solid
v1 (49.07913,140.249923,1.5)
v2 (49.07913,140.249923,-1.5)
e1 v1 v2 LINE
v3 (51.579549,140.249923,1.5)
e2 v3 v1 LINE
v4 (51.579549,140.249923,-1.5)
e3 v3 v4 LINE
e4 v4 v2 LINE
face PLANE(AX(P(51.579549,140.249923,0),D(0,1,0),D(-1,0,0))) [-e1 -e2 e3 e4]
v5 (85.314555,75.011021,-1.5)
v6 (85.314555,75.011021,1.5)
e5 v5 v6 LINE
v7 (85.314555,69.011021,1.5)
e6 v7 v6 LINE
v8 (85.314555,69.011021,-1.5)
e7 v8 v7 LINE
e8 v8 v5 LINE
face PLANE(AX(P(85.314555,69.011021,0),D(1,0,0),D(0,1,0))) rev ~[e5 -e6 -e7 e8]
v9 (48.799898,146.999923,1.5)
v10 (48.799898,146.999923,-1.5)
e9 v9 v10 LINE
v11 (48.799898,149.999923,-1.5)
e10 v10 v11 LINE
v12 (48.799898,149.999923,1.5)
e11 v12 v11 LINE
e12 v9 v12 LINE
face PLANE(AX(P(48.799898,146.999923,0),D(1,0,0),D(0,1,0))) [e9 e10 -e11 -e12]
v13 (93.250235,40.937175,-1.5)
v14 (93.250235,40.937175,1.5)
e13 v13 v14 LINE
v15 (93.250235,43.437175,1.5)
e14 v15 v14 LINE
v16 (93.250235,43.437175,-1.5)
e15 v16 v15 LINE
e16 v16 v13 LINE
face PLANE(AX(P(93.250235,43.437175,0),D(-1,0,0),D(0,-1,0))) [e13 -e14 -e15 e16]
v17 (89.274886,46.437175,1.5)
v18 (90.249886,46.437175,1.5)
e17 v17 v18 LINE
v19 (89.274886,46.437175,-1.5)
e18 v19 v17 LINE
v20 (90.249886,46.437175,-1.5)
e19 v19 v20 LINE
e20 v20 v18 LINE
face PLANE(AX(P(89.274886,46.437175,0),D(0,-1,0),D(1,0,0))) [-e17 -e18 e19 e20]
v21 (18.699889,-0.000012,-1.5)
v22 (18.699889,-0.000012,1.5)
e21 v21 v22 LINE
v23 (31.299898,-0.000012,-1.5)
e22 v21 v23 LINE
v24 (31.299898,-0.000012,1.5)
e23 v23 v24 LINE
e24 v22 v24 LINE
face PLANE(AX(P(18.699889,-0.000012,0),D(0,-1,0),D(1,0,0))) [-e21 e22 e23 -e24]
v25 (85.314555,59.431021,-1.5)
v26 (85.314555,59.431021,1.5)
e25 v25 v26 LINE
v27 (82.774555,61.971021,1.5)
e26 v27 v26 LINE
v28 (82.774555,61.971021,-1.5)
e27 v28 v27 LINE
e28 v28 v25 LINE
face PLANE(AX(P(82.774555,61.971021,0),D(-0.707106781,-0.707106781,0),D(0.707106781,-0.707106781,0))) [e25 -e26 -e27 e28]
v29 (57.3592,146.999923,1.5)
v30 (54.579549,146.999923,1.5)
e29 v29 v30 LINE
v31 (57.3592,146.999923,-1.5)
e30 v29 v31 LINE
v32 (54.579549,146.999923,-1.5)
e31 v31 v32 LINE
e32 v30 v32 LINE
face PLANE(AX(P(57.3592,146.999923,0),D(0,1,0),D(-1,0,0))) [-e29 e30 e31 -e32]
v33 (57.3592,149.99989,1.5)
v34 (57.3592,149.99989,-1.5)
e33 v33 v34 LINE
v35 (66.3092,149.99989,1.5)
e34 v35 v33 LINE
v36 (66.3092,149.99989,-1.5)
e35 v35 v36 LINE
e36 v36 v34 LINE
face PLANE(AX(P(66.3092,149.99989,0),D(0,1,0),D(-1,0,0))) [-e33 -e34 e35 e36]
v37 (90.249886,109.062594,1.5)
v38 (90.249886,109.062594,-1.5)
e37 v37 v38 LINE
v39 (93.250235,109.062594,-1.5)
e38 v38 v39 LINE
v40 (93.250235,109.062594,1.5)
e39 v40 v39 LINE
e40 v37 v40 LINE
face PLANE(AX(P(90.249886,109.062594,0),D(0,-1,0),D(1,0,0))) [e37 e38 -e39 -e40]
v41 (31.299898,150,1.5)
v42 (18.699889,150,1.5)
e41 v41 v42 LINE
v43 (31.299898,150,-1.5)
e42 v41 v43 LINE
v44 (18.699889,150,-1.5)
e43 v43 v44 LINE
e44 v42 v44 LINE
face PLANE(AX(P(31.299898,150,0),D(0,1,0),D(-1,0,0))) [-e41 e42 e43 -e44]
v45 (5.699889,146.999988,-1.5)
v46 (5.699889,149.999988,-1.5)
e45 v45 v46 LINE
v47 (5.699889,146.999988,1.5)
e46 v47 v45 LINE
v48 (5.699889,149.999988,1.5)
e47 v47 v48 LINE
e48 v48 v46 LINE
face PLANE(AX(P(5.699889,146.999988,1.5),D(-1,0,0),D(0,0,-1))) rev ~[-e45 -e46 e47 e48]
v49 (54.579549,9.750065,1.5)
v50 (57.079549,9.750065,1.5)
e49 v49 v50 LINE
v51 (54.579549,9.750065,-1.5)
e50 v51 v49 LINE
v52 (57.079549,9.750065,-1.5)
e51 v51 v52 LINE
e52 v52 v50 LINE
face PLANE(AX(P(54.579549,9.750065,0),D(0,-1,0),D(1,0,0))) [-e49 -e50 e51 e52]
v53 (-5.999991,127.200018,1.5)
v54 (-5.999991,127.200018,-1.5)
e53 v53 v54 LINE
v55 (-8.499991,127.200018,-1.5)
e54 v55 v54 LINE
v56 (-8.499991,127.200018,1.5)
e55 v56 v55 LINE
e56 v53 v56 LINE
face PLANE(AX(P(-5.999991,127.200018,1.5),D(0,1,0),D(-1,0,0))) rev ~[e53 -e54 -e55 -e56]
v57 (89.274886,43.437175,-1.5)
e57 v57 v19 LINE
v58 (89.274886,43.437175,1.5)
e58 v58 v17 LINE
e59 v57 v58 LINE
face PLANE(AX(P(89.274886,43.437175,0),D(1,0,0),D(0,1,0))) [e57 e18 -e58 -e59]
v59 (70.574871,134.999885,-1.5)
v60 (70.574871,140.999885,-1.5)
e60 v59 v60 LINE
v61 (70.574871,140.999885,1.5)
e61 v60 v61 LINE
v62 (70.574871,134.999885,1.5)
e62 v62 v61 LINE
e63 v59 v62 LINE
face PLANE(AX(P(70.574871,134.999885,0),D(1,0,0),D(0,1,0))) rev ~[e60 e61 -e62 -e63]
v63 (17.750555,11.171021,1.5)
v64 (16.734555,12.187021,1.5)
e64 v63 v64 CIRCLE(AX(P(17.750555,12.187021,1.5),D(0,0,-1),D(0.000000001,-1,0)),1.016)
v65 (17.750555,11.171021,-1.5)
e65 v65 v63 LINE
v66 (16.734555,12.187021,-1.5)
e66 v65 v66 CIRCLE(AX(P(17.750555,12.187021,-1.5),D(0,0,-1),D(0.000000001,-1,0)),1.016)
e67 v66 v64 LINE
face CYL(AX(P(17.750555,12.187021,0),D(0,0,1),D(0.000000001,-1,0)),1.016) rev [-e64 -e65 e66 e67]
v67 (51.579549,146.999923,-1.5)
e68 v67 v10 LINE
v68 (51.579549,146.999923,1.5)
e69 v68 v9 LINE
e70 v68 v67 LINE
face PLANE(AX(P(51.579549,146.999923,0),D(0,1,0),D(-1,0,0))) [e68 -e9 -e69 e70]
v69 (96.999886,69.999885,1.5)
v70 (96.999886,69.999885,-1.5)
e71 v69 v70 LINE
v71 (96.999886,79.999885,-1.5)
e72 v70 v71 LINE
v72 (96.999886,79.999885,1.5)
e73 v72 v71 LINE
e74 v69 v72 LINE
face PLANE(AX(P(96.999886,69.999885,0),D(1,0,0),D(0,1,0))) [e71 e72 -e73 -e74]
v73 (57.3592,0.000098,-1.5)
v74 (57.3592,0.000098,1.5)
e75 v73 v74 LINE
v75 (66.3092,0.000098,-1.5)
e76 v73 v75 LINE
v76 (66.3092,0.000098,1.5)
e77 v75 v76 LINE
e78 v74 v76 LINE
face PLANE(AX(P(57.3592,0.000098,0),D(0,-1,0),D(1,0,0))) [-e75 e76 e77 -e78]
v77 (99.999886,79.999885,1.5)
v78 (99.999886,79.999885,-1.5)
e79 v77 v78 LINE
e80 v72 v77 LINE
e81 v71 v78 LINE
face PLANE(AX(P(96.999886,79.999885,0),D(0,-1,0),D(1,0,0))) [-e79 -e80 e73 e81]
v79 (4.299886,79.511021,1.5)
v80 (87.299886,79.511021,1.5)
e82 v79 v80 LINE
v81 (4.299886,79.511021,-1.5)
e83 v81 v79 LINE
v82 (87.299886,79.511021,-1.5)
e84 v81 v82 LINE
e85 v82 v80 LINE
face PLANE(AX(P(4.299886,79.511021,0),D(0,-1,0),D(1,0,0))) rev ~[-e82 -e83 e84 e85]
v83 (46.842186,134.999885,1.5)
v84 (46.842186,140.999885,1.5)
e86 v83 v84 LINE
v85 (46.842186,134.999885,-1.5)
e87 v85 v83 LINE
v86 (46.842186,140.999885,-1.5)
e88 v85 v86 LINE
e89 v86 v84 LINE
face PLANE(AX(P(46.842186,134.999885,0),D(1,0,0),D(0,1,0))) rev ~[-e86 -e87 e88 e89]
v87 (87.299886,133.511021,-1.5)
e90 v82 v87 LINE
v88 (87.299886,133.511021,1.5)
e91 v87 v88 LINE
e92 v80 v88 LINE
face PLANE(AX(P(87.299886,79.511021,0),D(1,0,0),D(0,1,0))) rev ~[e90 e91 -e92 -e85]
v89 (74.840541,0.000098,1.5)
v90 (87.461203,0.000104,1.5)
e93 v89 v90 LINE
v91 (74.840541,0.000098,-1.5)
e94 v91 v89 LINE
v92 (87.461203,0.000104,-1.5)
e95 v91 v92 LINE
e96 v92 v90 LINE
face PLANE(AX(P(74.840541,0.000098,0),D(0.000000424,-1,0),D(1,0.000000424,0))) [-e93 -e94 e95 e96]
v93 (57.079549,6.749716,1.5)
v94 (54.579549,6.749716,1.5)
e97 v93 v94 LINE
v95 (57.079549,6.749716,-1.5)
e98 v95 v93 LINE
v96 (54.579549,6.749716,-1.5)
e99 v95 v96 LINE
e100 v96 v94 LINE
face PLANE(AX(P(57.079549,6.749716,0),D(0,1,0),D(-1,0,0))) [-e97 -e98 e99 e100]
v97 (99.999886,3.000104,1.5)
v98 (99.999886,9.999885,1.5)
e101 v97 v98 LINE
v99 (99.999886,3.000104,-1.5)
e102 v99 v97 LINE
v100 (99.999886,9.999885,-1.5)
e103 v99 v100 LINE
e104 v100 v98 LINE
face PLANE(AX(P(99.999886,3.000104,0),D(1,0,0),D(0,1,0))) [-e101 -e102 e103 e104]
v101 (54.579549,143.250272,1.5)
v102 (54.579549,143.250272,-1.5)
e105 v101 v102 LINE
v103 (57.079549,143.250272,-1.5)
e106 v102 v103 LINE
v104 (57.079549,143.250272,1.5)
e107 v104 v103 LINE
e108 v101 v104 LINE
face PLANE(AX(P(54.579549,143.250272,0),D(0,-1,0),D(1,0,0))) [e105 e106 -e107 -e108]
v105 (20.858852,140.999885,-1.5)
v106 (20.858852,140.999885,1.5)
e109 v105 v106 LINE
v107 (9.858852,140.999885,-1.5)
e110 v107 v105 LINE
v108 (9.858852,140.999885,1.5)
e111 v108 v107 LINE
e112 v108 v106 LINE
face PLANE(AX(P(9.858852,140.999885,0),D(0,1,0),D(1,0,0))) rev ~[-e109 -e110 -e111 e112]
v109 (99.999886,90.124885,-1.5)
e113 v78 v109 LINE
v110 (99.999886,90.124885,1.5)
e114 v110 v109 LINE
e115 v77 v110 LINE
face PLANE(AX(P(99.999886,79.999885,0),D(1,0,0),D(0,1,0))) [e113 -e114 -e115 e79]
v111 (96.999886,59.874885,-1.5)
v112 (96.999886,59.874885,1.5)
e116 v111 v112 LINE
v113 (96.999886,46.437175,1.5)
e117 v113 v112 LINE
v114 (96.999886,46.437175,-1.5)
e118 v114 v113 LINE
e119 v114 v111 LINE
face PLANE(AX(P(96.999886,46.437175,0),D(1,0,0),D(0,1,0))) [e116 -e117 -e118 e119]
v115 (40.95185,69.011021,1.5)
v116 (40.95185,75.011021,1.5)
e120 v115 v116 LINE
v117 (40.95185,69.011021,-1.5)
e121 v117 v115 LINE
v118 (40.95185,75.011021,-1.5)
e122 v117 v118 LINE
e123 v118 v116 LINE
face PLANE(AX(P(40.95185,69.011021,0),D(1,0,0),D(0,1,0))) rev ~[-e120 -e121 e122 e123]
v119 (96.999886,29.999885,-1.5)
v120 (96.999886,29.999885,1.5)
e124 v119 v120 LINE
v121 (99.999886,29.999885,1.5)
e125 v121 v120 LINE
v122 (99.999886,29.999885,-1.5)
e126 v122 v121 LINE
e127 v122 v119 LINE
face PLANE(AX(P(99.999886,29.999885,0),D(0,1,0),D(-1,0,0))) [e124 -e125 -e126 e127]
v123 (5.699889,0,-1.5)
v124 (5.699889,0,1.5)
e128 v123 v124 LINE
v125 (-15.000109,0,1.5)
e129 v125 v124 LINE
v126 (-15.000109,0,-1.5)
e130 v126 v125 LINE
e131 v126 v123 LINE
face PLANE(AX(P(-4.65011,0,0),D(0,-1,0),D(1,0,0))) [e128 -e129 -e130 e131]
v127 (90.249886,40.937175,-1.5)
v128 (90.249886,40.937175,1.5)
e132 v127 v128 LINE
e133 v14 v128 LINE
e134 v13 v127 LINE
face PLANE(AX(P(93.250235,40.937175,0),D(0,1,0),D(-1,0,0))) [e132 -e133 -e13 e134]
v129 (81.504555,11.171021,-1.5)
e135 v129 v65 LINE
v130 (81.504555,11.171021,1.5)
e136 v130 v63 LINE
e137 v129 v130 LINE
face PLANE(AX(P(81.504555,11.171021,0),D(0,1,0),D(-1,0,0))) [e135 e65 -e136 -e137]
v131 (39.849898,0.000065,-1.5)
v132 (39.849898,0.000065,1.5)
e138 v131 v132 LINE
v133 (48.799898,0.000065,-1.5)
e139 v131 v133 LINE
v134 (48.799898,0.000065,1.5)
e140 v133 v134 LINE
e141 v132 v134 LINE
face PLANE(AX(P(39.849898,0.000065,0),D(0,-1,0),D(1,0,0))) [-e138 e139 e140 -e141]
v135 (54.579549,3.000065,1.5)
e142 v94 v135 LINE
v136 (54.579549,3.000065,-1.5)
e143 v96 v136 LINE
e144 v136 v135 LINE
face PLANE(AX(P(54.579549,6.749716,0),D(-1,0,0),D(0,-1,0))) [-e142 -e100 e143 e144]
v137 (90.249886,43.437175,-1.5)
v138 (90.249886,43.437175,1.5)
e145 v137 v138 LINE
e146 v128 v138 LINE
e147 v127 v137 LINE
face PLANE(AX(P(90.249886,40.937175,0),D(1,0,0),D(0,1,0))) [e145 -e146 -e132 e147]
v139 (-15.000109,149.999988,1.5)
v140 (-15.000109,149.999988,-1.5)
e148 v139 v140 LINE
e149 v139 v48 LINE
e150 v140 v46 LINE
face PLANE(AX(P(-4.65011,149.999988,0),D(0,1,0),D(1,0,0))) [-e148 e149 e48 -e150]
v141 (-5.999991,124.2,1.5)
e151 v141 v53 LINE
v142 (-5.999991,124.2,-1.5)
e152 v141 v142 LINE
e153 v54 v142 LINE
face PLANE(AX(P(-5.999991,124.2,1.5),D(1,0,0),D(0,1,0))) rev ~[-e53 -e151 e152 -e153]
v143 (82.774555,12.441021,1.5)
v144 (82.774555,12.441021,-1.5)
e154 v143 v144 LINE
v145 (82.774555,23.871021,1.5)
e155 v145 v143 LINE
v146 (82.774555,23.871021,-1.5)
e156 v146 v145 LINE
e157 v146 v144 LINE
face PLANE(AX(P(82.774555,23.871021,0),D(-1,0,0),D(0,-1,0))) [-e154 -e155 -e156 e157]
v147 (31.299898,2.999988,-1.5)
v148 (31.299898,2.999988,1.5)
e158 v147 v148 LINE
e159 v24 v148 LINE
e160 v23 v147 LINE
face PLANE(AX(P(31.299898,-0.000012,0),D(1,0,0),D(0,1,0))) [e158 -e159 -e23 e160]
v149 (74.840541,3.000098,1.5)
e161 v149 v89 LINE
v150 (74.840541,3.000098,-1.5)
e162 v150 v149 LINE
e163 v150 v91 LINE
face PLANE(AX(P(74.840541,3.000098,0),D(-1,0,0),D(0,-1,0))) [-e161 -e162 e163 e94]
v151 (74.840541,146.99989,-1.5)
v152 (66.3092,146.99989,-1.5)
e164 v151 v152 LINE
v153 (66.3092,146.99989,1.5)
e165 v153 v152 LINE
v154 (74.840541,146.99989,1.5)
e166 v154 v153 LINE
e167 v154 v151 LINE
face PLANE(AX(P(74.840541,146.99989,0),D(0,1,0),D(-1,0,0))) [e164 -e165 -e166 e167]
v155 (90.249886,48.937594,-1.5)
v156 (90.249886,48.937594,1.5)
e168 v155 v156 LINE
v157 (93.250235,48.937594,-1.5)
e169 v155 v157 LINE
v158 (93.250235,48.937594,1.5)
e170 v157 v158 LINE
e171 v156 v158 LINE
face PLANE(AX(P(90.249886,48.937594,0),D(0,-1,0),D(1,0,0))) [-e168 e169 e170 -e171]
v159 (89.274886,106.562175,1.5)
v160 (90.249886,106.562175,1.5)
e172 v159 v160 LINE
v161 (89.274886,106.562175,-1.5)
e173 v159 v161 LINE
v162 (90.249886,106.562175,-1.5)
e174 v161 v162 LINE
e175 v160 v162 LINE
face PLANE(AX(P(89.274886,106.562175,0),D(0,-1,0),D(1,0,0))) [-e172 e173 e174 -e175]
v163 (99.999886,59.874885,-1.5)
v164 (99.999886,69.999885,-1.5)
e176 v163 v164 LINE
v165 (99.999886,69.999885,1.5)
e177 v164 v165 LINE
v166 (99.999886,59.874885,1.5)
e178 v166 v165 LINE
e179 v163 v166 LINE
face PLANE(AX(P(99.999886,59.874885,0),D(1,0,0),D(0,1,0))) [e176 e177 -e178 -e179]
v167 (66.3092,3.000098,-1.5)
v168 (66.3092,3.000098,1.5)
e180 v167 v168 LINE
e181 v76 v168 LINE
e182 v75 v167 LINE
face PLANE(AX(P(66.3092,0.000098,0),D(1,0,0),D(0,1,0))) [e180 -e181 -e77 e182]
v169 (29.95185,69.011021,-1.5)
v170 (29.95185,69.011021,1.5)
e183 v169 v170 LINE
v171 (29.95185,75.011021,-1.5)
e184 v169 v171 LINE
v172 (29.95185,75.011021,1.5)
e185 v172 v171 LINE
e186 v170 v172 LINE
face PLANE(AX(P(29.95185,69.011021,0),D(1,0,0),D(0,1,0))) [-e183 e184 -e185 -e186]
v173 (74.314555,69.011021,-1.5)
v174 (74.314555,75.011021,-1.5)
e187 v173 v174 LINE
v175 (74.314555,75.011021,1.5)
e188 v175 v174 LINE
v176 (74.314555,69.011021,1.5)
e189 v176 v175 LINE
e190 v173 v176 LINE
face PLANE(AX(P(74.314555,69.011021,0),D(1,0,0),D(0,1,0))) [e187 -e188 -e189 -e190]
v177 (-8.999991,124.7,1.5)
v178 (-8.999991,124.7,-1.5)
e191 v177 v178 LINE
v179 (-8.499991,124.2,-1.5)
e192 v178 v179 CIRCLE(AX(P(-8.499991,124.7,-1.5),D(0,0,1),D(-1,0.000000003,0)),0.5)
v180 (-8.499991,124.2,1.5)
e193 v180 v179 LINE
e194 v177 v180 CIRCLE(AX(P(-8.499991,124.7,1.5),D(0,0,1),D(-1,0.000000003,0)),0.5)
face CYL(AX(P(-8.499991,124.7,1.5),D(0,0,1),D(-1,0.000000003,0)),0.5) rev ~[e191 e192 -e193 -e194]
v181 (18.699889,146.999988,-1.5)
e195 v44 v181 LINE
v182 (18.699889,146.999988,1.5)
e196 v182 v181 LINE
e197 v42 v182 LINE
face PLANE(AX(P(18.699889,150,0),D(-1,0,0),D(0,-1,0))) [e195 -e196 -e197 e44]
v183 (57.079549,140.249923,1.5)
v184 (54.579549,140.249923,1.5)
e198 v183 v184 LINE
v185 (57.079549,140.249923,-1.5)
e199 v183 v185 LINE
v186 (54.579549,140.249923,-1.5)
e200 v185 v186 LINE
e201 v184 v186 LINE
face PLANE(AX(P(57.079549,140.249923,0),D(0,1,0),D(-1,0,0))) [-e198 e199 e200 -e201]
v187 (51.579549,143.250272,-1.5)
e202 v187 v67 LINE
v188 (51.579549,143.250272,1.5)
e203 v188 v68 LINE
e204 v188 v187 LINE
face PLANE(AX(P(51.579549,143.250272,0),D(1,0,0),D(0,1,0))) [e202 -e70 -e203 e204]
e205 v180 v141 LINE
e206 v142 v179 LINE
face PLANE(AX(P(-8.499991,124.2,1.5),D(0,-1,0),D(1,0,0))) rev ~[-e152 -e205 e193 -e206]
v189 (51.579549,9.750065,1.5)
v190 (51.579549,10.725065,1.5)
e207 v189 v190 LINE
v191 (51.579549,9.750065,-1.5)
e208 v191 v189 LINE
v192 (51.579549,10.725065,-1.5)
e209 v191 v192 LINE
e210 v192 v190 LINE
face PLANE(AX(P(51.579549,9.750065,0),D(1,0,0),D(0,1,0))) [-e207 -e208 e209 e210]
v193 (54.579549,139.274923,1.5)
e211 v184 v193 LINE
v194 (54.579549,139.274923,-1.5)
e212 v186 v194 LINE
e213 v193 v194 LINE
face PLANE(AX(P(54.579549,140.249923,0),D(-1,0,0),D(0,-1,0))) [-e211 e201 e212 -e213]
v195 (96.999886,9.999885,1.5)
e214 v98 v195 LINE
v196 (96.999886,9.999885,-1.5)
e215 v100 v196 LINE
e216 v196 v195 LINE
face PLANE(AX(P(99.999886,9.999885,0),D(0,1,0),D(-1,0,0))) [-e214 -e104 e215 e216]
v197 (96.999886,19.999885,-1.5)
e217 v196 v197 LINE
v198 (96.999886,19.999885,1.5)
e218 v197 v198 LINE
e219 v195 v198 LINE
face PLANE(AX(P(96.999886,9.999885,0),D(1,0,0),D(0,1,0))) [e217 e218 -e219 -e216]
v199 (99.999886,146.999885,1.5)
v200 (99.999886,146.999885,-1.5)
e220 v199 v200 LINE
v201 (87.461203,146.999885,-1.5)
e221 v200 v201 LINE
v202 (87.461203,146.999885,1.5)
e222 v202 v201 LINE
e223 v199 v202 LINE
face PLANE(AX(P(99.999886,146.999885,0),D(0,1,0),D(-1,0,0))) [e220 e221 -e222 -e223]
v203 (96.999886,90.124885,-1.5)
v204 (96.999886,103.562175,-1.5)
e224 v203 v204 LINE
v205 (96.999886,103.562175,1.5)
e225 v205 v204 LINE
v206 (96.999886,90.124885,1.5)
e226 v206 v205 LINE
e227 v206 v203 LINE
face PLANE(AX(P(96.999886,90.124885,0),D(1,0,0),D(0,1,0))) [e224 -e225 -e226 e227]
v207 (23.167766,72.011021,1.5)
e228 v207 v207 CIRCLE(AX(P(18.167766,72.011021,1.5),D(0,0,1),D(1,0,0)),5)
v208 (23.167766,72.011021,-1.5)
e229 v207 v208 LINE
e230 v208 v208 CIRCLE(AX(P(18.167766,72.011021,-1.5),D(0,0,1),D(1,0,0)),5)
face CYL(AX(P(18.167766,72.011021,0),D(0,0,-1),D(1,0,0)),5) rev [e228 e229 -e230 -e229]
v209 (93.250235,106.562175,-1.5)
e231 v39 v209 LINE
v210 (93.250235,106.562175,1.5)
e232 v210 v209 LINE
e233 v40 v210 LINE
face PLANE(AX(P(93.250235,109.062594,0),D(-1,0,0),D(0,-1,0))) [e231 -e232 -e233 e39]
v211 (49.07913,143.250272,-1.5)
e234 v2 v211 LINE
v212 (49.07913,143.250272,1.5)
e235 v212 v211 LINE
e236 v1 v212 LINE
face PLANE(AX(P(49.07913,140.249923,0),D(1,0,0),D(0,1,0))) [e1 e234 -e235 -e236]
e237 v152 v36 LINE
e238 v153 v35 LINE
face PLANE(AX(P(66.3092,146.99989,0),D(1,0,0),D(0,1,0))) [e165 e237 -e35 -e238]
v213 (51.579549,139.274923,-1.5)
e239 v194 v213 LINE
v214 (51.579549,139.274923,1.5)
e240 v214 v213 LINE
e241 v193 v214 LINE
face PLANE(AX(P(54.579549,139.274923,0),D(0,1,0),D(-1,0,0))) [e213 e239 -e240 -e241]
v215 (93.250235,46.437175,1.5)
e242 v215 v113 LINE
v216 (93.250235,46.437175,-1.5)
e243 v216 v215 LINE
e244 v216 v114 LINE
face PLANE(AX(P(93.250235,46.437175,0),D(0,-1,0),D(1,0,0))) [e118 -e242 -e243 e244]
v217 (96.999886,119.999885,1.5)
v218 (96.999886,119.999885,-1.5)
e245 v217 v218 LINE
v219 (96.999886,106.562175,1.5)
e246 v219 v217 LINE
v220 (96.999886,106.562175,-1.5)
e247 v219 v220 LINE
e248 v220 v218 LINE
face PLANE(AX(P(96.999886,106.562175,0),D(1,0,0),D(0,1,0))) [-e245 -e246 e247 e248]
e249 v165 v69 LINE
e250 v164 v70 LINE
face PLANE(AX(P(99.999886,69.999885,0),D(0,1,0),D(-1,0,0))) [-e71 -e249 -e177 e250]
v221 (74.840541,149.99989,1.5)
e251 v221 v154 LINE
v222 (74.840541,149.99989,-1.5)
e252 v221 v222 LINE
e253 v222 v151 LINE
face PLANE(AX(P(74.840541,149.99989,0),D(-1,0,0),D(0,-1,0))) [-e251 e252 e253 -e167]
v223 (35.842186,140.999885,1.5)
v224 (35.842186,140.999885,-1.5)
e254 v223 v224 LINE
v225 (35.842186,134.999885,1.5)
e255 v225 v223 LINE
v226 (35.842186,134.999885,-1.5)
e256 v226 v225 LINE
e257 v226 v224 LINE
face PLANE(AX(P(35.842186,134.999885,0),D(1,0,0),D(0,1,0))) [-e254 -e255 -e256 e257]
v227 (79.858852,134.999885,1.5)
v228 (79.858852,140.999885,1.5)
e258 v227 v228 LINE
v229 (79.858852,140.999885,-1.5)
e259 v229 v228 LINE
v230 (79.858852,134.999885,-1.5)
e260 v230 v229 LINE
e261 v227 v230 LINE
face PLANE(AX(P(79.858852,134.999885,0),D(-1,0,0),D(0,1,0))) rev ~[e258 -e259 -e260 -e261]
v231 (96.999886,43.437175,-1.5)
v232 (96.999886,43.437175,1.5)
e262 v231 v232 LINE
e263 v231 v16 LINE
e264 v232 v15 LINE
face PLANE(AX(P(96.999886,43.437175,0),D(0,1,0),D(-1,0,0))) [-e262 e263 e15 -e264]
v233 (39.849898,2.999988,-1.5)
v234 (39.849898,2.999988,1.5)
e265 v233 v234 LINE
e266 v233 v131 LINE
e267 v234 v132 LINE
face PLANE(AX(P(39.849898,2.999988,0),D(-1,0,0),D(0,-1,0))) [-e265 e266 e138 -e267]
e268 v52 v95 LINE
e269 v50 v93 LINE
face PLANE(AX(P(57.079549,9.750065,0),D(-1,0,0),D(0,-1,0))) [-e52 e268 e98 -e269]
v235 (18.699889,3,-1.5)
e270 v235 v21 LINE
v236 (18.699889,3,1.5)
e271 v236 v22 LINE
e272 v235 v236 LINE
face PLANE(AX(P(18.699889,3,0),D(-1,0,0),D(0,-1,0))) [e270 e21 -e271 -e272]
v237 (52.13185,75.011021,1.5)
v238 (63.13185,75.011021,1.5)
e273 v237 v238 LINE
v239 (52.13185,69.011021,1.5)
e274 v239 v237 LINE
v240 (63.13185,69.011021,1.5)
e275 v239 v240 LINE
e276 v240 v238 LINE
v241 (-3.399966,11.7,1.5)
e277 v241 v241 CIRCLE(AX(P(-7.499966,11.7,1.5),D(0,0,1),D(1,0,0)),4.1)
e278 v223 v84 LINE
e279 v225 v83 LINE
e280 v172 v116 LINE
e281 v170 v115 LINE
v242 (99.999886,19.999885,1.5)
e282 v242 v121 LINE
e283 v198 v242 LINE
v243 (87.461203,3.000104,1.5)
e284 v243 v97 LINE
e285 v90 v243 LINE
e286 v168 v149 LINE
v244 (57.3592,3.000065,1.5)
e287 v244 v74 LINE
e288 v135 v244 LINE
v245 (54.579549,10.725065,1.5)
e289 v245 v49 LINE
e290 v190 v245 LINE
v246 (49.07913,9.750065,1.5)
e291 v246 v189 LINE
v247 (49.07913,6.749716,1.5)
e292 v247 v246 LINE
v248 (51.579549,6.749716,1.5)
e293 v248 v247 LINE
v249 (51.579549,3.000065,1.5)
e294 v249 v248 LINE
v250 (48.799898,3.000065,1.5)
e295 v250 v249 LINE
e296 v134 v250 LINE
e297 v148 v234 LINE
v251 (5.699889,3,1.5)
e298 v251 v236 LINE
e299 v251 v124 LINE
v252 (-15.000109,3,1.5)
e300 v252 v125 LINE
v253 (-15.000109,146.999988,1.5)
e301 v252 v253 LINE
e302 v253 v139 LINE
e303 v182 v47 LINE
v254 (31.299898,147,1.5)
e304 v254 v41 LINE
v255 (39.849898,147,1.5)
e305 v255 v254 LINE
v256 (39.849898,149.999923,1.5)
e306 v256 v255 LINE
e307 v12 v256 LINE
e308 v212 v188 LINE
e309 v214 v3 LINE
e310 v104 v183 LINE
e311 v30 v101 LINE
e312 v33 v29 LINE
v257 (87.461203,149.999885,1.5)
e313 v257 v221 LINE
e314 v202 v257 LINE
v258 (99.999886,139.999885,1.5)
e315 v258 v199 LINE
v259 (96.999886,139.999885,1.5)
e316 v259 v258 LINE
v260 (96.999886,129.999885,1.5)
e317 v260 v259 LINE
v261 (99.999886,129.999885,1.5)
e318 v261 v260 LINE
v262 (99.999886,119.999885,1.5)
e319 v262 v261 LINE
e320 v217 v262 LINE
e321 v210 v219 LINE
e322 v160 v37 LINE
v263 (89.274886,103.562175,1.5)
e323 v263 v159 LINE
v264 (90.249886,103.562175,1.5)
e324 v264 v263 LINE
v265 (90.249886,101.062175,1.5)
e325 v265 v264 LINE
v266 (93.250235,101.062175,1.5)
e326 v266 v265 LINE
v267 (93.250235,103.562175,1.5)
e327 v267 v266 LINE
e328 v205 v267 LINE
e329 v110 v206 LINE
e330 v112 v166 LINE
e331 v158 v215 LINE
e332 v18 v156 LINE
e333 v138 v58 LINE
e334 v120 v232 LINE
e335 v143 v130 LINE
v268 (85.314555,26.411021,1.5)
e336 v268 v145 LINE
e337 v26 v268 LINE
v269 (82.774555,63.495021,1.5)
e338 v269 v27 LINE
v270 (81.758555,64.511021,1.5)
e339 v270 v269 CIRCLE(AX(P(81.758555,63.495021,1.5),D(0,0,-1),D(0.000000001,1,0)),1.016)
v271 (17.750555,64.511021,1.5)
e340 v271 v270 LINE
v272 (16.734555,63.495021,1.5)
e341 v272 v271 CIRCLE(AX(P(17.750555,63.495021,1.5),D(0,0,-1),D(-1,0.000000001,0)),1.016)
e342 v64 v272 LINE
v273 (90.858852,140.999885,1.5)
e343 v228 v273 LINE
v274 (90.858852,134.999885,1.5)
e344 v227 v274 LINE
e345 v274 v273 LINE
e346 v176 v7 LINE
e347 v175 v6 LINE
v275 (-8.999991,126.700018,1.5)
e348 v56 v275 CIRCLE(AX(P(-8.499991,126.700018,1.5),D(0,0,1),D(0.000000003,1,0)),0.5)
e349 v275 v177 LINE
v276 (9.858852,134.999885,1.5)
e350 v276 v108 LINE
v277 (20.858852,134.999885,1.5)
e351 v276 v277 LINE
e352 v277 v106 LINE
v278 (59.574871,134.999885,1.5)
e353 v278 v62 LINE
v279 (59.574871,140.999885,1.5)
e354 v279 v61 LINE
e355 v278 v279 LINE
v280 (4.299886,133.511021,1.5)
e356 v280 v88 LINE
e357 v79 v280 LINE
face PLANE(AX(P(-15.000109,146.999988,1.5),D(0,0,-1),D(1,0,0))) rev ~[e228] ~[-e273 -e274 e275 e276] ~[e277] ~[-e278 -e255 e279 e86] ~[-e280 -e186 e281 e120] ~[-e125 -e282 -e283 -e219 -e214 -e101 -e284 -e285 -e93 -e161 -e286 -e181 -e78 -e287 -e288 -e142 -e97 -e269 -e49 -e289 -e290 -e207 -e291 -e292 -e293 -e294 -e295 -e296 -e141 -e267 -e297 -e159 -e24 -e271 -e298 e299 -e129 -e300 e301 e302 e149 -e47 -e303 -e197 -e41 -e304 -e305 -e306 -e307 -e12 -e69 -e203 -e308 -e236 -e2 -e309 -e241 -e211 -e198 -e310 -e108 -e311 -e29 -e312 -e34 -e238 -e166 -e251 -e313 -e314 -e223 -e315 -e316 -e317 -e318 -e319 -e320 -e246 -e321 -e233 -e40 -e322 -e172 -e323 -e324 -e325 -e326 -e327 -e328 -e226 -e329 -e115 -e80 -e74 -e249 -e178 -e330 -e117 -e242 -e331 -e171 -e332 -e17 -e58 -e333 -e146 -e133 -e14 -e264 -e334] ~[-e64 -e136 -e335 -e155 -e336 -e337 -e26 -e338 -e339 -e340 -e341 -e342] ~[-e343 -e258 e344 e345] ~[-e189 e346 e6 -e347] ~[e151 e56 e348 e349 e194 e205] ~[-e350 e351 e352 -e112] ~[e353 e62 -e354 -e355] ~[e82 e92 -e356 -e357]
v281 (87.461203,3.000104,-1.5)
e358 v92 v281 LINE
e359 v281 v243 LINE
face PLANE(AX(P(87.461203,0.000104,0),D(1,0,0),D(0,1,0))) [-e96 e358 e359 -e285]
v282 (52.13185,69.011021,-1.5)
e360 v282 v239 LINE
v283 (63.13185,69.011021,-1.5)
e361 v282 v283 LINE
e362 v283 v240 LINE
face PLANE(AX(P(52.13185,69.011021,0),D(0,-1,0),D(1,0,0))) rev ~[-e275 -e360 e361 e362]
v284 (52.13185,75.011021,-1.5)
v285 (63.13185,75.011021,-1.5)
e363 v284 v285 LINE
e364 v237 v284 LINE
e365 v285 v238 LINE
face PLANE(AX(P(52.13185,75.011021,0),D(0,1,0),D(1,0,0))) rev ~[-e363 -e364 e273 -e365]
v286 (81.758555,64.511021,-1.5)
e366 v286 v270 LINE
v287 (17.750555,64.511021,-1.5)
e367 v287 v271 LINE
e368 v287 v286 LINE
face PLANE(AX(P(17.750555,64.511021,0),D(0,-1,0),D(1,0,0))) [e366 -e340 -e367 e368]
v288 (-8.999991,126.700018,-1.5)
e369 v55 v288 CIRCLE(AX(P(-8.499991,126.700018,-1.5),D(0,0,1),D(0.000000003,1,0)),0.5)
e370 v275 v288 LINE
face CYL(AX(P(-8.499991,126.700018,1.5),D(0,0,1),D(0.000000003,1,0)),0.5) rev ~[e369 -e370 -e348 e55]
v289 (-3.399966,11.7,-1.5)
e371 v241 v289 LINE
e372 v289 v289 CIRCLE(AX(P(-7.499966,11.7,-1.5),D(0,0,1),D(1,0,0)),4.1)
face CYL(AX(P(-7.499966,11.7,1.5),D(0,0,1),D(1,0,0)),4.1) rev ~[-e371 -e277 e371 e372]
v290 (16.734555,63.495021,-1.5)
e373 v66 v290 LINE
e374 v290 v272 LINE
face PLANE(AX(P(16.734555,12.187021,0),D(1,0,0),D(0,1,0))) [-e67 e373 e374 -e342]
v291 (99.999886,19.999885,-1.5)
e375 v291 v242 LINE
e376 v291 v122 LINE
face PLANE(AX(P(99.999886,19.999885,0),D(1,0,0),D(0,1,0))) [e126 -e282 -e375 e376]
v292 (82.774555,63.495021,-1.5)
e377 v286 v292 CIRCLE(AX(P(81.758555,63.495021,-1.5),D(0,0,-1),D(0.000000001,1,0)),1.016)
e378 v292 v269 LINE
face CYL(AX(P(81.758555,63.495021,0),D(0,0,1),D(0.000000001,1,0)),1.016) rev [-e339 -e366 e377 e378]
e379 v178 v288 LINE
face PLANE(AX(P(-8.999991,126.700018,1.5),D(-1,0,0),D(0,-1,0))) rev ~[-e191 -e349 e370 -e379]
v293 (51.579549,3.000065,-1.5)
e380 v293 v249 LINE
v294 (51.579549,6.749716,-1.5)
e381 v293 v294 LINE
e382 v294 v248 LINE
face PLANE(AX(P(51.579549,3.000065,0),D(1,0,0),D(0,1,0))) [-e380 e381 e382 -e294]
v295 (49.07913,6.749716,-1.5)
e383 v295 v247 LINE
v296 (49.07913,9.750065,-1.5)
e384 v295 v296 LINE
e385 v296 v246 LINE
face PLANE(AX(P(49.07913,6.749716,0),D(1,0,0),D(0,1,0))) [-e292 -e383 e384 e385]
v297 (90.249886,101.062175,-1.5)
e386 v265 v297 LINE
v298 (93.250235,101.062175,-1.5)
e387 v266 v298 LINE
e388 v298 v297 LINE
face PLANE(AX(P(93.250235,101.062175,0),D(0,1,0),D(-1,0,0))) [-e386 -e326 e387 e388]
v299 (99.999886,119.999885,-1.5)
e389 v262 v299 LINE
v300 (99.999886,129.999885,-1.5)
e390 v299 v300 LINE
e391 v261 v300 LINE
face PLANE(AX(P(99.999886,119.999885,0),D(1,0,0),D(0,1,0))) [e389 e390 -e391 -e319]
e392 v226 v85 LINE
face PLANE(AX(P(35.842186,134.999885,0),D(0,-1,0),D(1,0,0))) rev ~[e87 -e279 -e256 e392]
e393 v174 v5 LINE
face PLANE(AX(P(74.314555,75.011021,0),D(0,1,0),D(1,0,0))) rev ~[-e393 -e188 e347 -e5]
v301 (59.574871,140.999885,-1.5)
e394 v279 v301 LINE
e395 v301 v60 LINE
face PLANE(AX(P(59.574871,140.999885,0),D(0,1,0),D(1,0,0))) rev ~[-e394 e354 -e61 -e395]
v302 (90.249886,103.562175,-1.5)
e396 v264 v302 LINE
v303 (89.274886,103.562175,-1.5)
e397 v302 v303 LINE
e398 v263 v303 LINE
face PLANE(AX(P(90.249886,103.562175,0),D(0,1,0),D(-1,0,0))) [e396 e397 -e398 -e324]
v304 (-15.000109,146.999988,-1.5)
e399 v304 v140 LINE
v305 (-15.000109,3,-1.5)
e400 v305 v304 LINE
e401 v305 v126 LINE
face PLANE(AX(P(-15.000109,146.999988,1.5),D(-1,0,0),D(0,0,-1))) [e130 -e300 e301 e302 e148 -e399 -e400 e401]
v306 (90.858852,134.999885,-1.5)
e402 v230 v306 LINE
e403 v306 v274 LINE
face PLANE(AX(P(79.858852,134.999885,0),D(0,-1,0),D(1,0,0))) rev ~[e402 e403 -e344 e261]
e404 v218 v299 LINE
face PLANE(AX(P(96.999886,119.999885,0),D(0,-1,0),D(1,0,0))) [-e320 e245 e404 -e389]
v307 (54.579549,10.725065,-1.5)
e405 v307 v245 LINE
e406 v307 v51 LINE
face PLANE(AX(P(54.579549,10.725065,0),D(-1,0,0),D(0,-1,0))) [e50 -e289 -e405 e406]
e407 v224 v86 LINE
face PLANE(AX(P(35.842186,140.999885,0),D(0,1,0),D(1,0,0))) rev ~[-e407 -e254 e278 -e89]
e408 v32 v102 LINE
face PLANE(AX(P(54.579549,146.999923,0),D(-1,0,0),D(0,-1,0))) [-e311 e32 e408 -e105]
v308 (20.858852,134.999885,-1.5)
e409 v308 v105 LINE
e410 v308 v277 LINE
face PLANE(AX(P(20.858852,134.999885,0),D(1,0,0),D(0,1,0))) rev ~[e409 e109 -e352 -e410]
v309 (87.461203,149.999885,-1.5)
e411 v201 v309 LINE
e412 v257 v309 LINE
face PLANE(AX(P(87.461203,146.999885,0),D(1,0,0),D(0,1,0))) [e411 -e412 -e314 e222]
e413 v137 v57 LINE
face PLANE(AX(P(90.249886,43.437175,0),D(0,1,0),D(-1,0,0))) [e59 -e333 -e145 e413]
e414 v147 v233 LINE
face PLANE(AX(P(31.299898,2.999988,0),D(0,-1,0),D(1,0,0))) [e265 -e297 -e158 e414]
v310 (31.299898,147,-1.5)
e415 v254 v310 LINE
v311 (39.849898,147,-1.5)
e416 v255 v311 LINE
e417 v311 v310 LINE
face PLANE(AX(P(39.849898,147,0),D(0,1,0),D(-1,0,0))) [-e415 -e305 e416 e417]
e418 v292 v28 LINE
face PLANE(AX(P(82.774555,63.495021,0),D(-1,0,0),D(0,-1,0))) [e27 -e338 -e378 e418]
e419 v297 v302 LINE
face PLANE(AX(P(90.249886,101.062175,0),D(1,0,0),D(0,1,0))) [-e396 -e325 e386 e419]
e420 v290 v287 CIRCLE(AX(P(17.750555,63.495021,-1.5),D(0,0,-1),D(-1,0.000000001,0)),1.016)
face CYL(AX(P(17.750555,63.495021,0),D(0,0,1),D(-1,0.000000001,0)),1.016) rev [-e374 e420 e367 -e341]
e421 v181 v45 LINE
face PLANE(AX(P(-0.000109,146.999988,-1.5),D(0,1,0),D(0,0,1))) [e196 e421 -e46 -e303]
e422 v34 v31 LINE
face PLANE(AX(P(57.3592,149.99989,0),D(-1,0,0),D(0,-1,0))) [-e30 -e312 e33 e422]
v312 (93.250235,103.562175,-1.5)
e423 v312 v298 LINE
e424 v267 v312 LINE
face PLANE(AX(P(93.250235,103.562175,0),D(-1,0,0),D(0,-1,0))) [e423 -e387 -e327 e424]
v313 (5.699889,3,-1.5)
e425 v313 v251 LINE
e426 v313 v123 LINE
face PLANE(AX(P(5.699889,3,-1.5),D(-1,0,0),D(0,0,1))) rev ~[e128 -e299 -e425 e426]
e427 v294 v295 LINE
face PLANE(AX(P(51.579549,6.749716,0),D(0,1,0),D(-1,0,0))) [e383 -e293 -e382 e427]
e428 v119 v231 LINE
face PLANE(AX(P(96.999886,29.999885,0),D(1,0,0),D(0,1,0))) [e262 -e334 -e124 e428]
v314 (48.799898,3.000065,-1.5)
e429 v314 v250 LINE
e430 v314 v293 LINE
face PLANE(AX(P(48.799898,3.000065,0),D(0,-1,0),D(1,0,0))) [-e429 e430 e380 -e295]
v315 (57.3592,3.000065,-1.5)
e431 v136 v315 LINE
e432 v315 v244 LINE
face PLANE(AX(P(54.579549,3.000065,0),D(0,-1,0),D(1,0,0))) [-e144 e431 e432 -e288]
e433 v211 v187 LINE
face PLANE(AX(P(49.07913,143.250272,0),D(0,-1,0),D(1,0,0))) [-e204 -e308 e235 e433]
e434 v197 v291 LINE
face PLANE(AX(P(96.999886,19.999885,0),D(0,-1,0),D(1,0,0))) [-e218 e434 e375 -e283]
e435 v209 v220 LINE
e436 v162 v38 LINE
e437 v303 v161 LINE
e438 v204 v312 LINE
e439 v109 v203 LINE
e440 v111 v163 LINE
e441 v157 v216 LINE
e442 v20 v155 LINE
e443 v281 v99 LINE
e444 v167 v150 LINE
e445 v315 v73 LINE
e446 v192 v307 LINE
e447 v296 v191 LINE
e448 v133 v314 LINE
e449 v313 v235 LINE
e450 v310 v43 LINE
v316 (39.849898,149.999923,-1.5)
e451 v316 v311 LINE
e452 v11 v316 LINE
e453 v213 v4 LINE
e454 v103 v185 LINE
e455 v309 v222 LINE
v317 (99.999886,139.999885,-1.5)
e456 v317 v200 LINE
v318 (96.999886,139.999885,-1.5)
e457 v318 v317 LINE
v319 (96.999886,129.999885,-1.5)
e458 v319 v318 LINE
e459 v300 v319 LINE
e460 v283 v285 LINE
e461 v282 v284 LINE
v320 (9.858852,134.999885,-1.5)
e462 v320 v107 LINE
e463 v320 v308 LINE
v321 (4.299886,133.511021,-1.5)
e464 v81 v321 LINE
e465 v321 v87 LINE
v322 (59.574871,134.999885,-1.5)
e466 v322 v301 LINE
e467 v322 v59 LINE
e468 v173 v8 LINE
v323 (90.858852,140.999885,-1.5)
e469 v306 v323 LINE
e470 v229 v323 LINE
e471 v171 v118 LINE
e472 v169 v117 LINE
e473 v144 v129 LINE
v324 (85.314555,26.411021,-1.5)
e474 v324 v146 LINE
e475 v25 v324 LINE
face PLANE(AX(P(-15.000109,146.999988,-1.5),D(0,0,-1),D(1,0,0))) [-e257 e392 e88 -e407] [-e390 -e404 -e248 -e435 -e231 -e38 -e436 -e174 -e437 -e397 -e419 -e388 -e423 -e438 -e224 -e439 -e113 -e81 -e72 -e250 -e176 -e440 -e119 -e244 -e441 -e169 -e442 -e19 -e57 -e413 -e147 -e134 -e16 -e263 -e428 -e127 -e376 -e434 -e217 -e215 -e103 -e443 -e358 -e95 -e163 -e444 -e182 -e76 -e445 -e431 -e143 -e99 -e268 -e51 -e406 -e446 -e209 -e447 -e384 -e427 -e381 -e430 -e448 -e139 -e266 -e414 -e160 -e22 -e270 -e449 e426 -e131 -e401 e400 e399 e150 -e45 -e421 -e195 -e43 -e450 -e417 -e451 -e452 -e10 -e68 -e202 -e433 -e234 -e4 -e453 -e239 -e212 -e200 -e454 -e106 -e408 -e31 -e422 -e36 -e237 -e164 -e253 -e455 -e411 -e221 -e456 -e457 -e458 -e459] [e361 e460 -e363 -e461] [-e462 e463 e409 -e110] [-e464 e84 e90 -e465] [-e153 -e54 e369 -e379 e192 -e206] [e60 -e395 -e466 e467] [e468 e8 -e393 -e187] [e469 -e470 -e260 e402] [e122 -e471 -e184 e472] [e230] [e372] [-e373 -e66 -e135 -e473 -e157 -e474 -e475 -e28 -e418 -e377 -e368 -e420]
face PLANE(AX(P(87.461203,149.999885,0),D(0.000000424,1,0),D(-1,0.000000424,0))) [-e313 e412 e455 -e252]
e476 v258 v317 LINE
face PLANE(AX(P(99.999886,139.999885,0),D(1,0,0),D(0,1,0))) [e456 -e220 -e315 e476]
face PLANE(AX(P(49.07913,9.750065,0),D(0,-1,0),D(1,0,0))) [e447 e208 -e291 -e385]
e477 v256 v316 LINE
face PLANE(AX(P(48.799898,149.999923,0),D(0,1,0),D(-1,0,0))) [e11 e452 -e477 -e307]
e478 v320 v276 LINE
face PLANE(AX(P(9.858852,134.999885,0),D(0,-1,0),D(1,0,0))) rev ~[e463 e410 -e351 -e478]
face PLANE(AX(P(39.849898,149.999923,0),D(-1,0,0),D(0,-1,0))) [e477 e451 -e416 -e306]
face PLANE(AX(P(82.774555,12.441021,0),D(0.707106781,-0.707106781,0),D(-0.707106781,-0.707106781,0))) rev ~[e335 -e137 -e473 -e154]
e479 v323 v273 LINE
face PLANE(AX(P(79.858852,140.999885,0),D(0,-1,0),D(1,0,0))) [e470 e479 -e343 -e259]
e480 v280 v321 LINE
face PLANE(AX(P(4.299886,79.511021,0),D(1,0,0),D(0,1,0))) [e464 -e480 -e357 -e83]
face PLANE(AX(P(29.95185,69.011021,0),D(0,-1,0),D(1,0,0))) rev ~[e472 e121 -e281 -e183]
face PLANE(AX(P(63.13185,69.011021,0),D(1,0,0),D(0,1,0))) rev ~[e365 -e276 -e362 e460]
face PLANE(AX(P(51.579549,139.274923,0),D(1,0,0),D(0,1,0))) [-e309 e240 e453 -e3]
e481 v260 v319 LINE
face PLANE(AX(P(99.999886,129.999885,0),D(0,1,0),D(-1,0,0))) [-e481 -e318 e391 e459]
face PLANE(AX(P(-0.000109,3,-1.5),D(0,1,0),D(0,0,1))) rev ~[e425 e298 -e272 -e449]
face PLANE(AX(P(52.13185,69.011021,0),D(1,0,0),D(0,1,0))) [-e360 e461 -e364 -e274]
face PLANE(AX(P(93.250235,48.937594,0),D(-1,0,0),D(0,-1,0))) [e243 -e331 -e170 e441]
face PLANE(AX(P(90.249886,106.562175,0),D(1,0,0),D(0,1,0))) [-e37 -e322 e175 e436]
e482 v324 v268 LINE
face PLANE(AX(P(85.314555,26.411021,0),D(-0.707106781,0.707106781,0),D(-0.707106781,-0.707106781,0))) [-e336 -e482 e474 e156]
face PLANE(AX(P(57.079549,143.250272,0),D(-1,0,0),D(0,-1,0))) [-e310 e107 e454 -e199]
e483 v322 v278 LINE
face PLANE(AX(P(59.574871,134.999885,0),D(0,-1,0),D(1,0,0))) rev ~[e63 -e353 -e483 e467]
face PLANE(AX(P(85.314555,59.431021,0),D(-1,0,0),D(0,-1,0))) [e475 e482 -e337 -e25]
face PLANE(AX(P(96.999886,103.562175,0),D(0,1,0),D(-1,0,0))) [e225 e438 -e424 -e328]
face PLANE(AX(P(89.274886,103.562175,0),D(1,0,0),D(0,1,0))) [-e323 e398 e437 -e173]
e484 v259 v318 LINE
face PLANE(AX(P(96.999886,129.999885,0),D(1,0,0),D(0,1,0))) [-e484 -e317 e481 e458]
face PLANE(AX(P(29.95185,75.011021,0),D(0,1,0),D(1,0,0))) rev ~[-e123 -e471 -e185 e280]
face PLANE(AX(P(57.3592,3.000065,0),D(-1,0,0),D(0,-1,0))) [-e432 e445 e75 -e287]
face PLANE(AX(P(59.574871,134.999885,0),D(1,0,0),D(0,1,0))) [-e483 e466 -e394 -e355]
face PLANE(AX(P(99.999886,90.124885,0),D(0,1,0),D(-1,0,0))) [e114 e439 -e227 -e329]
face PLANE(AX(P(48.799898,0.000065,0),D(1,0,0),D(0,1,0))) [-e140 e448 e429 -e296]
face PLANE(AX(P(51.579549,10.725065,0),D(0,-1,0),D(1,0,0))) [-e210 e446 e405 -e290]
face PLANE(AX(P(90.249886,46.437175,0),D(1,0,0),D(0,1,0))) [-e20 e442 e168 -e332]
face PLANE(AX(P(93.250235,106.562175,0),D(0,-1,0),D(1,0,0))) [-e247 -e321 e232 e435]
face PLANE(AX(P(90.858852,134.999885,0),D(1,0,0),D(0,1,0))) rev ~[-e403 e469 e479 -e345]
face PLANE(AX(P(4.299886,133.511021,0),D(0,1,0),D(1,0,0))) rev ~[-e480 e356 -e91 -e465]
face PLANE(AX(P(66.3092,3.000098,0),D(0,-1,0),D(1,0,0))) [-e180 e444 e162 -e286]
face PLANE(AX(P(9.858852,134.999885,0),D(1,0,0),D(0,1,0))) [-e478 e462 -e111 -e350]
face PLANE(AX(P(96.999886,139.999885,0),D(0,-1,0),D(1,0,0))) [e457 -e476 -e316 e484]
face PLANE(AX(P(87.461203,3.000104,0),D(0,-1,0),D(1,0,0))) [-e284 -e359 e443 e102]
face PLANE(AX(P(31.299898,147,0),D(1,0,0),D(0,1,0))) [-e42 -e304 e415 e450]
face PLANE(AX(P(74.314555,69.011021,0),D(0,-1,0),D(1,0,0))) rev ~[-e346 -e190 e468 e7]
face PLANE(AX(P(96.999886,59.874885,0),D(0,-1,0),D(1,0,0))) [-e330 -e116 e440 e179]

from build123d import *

# Parameters (mm, degrees)
CROQUIS1_R              = 5.000000001
CROQUIS1_W              = 11.000000002
CROQUIS1_H              = 6.000000001
CROQUIS1_W_2            = 11.000000001
CROQUIS1_W_3            = 83.00000001
CROQUIS1_H_2            = 54.000000007
SALIENTE_EXTRUIR1_DEPTH = 1.5
CROQUIS3_W              = 3
CROQUIS3_H              = 143.999988457
SALIENTE_EXTRUIR2_DEPTH = 15
CROQUIS4_R              = 4.1
CORTAR_EXTRUIR1_DEPTH   = 23
CROQUIS8_W              = 20.699997559
CROQUIS8_H              = 3
SALIENTE_EXTRUIR4_DEPTH = 3
CROQUIS9_W              = 20.699997559
CROQUIS9_H              = 3
SALIENTE_EXTRUIR5_DEPTH = 3


with BuildPart() as part:
    # Croquis1 → Saliente-Extruir1 (new, symmetric)
    with BuildSketch(Plane.XY):
        Polygon((18.699888738, 146.999988499), (-0.000108821, 146.999988499), (-0.000108821, 3.000000042), (18.699888738, 3.000000042), (18.699888738, -1.1561e-05), (31.299897882, -1.1561e-05), (31.299897882, 2.999988439), (39.849897883, 2.999988439), (39.849897883, 6.5452e-05), (48.799897884, 6.5452e-05), (48.799897884, 3.000065452), (51.579549154, 3.000065452), (51.579549154, 6.749716476), (49.079130382, 6.749716476), (49.079130382, 9.750065453), (51.579549154, 9.750065453), (51.579549154, 10.725065453), (54.579549155, 10.725065453), (54.579549155, 9.750065453), (57.079549155, 9.750065453), (57.079549155, 6.749716476), (54.579549155, 6.749716476), (54.579549155, 3.000065452), (57.359200426, 3.000065452), (57.359200426, 9.8389e-05), (66.309200426, 9.8389e-05), (66.309200426, 3.00009839), (74.840541181, 3.00009839), (74.840541181, 9.8305e-05), (87.461202556, 0.000103657), (87.461202556, 3.000103699), (99.999885723, 3.000103699), (99.999885723, 9.999884868), (96.999885722, 9.999884868), (96.999885722, 19.999884869), (99.999885723, 19.999884869), (99.999885723, 29.99988487), (96.999885722, 29.99988487), (96.999885722, 43.437175485), (93.250234699, 43.437175485), (93.250234699, 40.937175485), (90.249885721, 40.937175485), (90.249885721, 43.437175485), (89.274885721, 43.437175485), (89.274885721, 46.437175486), (90.249885721, 46.437175486), (90.249885721, 48.937594258), (93.250234699, 48.937594258), (93.250234699, 46.437175486), (96.999885722, 46.437175486), (96.999885722, 59.874884873), (99.999885723, 59.874884873), (99.999885723, 69.999884875), (96.999885722, 69.999884875), (96.999885722, 79.999884876), (99.999885723, 79.999884876), (99.999885723, 90.124884877), (96.999885722, 90.124884877), (96.999885722, 103.562175492), (93.250234699, 103.562175492), (93.250234699, 101.062175492), (90.249885721, 101.062175492), (90.249885721, 103.562175492), (89.274885721, 103.562175492), (89.274885721, 106.562175493), (90.249885721, 106.562175493), (90.249885721, 109.062594265), (93.250234699, 109.062594265), (93.250234699, 106.562175493), (96.999885722, 106.562175493), (96.999885722, 119.99988488), (99.999885723, 119.99988488), (99.999885723, 129.999884881), (96.999885722, 129.999884881), (96.999885722, 139.999884883), (99.999885723, 139.999884883), (99.999885723, 146.999884842), (87.461202556, 146.999884842), (87.461202556, 149.999884884), (74.840541181, 149.999890236), (74.840541181, 146.999890151), (66.309200426, 146.999890151), (66.309200426, 149.999890151), (57.359200426, 149.999890151), (57.359200426, 146.999923088), (54.579549155, 146.999923088), (54.579549155, 143.250272065), (57.079549155, 143.250272065), (57.079549155, 140.249923087), (54.579549155, 140.249923087), (54.579549155, 139.274923087), (51.579549154, 139.274923087), (51.579549154, 140.249923087), (49.079130382, 140.249923087), (49.079130382, 143.250272065), (51.579549154, 143.250272065), (51.579549154, 146.999923088), (48.799897884, 146.999923088), (48.799897884, 149.999923089), (39.849897883, 149.999923089), (39.849897883, 147.000000101), (31.299897882, 147.000000101), (31.299897882, 150.000000101), (18.699888738, 150.000000101), align=None)
        with Locations((18.167765659, 72.011021453)):
            Circle(CROQUIS1_R, mode=Mode.SUBTRACT)
        with Locations((35.451849713, 72.011021453)):
            Rectangle(CROQUIS1_W, CROQUIS1_H, mode=Mode.SUBTRACT)
        with BuildLine():
            Line((82.774554778, 63.495021452), (82.774554778, 61.971021451))
            Line((82.774554778, 61.971021451), (85.314554779, 59.431021451))
            Line((85.314554779, 59.431021451), (85.314554779, 26.411021447))
            Line((85.314554779, 26.411021447), (82.774554778, 23.871021447))
            Line((82.774554778, 23.871021447), (82.774554778, 12.441021446))
            Line((82.774554778, 12.441021446), (81.504554778, 11.171021446))
            Line((81.504554778, 11.171021446), (17.750554771, 11.171021446))
            ThreePointArc((17.750554771, 11.171021446), (17.032134281, 11.468600956), (16.734554771, 12.187021446))
            Line((16.734554771, 12.187021446), (16.734554771, 63.495021452))
            ThreePointArc((16.734554771, 63.495021452), (17.032134281, 64.213441941), (17.750554771, 64.511021452))
            Line((17.750554771, 64.511021452), (81.758554778, 64.511021452))
            ThreePointArc((81.758554778, 64.511021452), (82.476975268, 64.213441941), (82.774554778, 63.495021452))
        make_face(mode=Mode.SUBTRACT)
        with Locations((57.631849716, 72.011021453)):
            Rectangle(CROQUIS1_W_2, CROQUIS1_H, mode=Mode.SUBTRACT)
        with Locations((79.814554778, 72.011021453)):
            Rectangle(CROQUIS1_W, CROQUIS1_H, mode=Mode.SUBTRACT)
        with Locations((45.799885716, 106.511021457)):
            Rectangle(CROQUIS1_W_3, CROQUIS1_H_2, mode=Mode.SUBTRACT)
        with Locations((15.358852485, 137.999884882)):
            Rectangle(CROQUIS1_W_2, CROQUIS1_H, mode=Mode.SUBTRACT)
        with Locations((41.342185821, 137.999884882)):
            Rectangle(CROQUIS1_W_2, CROQUIS1_H, mode=Mode.SUBTRACT)
        with Locations((65.074870839, 137.999884882)):
            Rectangle(CROQUIS1_W_2, CROQUIS1_H, mode=Mode.SUBTRACT)
        with Locations((85.358852493, 137.999884882)):
            Rectangle(CROQUIS1_W_2, CROQUIS1_H, mode=Mode.SUBTRACT)
    extrude(amount=SALIENTE_EXTRUIR1_DEPTH, both=True)

    # Croquis3 → Saliente-Extruir2 (add)
    with BuildSketch(Plane.ZY.offset(0.000108821)):
        with Locations((0, 74.999994271)):
            Rectangle(CROQUIS3_W, CROQUIS3_H)
    extrude(amount=SALIENTE_EXTRUIR2_DEPTH)

    # Croquis4 → Cortar-Extruir1 (cut)
    with BuildSketch(Plane.XY.offset(1.5)):
        with Locations((-7.499965561, 11.700000042)):
            Circle(CROQUIS4_R)
        with BuildLine():
            Line((-5.999990973, 127.200018373), (-8.499990973, 127.200018373))
            ThreePointArc((-8.499990973, 127.200018373), (-8.853544364, 127.053571764), (-8.999990973, 126.700018373))
            Line((-8.999990973, 126.700018373), (-8.999990973, 124.700000042))
            ThreePointArc((-8.999990973, 124.700000042), (-8.853544364, 124.346446651), (-8.499990973, 124.200000042))
            Line((-8.499990973, 124.200000042), (-5.999990973, 124.200000042))
            Line((-5.999990973, 124.200000042), (-5.999990973, 127.200018373))
        make_face()
    extrude(amount=-CORTAR_EXTRUIR1_DEPTH, mode=Mode.SUBTRACT)

    # Croquis8 → Saliente-Extruir4 (add)
    with BuildSketch(Plane.XZ.offset(-3.000000042)):
        with Locations((-4.650110042, 0)):
            Rectangle(CROQUIS8_W, CROQUIS8_H)
    extrude(amount=SALIENTE_EXTRUIR4_DEPTH)

    # Croquis9 → Saliente-Extruir5 (add)
    with BuildSketch(Plane(origin=(0, 146.999988499, 0), x_dir=(1, 0, 0), z_dir=(0, 1, 0))):
        with Locations((-4.650110042, 0)):
            Rectangle(CROQUIS9_W, CROQUIS9_H)
    extrude(amount=SALIENTE_EXTRUIR5_DEPTH)


solid = part.part
